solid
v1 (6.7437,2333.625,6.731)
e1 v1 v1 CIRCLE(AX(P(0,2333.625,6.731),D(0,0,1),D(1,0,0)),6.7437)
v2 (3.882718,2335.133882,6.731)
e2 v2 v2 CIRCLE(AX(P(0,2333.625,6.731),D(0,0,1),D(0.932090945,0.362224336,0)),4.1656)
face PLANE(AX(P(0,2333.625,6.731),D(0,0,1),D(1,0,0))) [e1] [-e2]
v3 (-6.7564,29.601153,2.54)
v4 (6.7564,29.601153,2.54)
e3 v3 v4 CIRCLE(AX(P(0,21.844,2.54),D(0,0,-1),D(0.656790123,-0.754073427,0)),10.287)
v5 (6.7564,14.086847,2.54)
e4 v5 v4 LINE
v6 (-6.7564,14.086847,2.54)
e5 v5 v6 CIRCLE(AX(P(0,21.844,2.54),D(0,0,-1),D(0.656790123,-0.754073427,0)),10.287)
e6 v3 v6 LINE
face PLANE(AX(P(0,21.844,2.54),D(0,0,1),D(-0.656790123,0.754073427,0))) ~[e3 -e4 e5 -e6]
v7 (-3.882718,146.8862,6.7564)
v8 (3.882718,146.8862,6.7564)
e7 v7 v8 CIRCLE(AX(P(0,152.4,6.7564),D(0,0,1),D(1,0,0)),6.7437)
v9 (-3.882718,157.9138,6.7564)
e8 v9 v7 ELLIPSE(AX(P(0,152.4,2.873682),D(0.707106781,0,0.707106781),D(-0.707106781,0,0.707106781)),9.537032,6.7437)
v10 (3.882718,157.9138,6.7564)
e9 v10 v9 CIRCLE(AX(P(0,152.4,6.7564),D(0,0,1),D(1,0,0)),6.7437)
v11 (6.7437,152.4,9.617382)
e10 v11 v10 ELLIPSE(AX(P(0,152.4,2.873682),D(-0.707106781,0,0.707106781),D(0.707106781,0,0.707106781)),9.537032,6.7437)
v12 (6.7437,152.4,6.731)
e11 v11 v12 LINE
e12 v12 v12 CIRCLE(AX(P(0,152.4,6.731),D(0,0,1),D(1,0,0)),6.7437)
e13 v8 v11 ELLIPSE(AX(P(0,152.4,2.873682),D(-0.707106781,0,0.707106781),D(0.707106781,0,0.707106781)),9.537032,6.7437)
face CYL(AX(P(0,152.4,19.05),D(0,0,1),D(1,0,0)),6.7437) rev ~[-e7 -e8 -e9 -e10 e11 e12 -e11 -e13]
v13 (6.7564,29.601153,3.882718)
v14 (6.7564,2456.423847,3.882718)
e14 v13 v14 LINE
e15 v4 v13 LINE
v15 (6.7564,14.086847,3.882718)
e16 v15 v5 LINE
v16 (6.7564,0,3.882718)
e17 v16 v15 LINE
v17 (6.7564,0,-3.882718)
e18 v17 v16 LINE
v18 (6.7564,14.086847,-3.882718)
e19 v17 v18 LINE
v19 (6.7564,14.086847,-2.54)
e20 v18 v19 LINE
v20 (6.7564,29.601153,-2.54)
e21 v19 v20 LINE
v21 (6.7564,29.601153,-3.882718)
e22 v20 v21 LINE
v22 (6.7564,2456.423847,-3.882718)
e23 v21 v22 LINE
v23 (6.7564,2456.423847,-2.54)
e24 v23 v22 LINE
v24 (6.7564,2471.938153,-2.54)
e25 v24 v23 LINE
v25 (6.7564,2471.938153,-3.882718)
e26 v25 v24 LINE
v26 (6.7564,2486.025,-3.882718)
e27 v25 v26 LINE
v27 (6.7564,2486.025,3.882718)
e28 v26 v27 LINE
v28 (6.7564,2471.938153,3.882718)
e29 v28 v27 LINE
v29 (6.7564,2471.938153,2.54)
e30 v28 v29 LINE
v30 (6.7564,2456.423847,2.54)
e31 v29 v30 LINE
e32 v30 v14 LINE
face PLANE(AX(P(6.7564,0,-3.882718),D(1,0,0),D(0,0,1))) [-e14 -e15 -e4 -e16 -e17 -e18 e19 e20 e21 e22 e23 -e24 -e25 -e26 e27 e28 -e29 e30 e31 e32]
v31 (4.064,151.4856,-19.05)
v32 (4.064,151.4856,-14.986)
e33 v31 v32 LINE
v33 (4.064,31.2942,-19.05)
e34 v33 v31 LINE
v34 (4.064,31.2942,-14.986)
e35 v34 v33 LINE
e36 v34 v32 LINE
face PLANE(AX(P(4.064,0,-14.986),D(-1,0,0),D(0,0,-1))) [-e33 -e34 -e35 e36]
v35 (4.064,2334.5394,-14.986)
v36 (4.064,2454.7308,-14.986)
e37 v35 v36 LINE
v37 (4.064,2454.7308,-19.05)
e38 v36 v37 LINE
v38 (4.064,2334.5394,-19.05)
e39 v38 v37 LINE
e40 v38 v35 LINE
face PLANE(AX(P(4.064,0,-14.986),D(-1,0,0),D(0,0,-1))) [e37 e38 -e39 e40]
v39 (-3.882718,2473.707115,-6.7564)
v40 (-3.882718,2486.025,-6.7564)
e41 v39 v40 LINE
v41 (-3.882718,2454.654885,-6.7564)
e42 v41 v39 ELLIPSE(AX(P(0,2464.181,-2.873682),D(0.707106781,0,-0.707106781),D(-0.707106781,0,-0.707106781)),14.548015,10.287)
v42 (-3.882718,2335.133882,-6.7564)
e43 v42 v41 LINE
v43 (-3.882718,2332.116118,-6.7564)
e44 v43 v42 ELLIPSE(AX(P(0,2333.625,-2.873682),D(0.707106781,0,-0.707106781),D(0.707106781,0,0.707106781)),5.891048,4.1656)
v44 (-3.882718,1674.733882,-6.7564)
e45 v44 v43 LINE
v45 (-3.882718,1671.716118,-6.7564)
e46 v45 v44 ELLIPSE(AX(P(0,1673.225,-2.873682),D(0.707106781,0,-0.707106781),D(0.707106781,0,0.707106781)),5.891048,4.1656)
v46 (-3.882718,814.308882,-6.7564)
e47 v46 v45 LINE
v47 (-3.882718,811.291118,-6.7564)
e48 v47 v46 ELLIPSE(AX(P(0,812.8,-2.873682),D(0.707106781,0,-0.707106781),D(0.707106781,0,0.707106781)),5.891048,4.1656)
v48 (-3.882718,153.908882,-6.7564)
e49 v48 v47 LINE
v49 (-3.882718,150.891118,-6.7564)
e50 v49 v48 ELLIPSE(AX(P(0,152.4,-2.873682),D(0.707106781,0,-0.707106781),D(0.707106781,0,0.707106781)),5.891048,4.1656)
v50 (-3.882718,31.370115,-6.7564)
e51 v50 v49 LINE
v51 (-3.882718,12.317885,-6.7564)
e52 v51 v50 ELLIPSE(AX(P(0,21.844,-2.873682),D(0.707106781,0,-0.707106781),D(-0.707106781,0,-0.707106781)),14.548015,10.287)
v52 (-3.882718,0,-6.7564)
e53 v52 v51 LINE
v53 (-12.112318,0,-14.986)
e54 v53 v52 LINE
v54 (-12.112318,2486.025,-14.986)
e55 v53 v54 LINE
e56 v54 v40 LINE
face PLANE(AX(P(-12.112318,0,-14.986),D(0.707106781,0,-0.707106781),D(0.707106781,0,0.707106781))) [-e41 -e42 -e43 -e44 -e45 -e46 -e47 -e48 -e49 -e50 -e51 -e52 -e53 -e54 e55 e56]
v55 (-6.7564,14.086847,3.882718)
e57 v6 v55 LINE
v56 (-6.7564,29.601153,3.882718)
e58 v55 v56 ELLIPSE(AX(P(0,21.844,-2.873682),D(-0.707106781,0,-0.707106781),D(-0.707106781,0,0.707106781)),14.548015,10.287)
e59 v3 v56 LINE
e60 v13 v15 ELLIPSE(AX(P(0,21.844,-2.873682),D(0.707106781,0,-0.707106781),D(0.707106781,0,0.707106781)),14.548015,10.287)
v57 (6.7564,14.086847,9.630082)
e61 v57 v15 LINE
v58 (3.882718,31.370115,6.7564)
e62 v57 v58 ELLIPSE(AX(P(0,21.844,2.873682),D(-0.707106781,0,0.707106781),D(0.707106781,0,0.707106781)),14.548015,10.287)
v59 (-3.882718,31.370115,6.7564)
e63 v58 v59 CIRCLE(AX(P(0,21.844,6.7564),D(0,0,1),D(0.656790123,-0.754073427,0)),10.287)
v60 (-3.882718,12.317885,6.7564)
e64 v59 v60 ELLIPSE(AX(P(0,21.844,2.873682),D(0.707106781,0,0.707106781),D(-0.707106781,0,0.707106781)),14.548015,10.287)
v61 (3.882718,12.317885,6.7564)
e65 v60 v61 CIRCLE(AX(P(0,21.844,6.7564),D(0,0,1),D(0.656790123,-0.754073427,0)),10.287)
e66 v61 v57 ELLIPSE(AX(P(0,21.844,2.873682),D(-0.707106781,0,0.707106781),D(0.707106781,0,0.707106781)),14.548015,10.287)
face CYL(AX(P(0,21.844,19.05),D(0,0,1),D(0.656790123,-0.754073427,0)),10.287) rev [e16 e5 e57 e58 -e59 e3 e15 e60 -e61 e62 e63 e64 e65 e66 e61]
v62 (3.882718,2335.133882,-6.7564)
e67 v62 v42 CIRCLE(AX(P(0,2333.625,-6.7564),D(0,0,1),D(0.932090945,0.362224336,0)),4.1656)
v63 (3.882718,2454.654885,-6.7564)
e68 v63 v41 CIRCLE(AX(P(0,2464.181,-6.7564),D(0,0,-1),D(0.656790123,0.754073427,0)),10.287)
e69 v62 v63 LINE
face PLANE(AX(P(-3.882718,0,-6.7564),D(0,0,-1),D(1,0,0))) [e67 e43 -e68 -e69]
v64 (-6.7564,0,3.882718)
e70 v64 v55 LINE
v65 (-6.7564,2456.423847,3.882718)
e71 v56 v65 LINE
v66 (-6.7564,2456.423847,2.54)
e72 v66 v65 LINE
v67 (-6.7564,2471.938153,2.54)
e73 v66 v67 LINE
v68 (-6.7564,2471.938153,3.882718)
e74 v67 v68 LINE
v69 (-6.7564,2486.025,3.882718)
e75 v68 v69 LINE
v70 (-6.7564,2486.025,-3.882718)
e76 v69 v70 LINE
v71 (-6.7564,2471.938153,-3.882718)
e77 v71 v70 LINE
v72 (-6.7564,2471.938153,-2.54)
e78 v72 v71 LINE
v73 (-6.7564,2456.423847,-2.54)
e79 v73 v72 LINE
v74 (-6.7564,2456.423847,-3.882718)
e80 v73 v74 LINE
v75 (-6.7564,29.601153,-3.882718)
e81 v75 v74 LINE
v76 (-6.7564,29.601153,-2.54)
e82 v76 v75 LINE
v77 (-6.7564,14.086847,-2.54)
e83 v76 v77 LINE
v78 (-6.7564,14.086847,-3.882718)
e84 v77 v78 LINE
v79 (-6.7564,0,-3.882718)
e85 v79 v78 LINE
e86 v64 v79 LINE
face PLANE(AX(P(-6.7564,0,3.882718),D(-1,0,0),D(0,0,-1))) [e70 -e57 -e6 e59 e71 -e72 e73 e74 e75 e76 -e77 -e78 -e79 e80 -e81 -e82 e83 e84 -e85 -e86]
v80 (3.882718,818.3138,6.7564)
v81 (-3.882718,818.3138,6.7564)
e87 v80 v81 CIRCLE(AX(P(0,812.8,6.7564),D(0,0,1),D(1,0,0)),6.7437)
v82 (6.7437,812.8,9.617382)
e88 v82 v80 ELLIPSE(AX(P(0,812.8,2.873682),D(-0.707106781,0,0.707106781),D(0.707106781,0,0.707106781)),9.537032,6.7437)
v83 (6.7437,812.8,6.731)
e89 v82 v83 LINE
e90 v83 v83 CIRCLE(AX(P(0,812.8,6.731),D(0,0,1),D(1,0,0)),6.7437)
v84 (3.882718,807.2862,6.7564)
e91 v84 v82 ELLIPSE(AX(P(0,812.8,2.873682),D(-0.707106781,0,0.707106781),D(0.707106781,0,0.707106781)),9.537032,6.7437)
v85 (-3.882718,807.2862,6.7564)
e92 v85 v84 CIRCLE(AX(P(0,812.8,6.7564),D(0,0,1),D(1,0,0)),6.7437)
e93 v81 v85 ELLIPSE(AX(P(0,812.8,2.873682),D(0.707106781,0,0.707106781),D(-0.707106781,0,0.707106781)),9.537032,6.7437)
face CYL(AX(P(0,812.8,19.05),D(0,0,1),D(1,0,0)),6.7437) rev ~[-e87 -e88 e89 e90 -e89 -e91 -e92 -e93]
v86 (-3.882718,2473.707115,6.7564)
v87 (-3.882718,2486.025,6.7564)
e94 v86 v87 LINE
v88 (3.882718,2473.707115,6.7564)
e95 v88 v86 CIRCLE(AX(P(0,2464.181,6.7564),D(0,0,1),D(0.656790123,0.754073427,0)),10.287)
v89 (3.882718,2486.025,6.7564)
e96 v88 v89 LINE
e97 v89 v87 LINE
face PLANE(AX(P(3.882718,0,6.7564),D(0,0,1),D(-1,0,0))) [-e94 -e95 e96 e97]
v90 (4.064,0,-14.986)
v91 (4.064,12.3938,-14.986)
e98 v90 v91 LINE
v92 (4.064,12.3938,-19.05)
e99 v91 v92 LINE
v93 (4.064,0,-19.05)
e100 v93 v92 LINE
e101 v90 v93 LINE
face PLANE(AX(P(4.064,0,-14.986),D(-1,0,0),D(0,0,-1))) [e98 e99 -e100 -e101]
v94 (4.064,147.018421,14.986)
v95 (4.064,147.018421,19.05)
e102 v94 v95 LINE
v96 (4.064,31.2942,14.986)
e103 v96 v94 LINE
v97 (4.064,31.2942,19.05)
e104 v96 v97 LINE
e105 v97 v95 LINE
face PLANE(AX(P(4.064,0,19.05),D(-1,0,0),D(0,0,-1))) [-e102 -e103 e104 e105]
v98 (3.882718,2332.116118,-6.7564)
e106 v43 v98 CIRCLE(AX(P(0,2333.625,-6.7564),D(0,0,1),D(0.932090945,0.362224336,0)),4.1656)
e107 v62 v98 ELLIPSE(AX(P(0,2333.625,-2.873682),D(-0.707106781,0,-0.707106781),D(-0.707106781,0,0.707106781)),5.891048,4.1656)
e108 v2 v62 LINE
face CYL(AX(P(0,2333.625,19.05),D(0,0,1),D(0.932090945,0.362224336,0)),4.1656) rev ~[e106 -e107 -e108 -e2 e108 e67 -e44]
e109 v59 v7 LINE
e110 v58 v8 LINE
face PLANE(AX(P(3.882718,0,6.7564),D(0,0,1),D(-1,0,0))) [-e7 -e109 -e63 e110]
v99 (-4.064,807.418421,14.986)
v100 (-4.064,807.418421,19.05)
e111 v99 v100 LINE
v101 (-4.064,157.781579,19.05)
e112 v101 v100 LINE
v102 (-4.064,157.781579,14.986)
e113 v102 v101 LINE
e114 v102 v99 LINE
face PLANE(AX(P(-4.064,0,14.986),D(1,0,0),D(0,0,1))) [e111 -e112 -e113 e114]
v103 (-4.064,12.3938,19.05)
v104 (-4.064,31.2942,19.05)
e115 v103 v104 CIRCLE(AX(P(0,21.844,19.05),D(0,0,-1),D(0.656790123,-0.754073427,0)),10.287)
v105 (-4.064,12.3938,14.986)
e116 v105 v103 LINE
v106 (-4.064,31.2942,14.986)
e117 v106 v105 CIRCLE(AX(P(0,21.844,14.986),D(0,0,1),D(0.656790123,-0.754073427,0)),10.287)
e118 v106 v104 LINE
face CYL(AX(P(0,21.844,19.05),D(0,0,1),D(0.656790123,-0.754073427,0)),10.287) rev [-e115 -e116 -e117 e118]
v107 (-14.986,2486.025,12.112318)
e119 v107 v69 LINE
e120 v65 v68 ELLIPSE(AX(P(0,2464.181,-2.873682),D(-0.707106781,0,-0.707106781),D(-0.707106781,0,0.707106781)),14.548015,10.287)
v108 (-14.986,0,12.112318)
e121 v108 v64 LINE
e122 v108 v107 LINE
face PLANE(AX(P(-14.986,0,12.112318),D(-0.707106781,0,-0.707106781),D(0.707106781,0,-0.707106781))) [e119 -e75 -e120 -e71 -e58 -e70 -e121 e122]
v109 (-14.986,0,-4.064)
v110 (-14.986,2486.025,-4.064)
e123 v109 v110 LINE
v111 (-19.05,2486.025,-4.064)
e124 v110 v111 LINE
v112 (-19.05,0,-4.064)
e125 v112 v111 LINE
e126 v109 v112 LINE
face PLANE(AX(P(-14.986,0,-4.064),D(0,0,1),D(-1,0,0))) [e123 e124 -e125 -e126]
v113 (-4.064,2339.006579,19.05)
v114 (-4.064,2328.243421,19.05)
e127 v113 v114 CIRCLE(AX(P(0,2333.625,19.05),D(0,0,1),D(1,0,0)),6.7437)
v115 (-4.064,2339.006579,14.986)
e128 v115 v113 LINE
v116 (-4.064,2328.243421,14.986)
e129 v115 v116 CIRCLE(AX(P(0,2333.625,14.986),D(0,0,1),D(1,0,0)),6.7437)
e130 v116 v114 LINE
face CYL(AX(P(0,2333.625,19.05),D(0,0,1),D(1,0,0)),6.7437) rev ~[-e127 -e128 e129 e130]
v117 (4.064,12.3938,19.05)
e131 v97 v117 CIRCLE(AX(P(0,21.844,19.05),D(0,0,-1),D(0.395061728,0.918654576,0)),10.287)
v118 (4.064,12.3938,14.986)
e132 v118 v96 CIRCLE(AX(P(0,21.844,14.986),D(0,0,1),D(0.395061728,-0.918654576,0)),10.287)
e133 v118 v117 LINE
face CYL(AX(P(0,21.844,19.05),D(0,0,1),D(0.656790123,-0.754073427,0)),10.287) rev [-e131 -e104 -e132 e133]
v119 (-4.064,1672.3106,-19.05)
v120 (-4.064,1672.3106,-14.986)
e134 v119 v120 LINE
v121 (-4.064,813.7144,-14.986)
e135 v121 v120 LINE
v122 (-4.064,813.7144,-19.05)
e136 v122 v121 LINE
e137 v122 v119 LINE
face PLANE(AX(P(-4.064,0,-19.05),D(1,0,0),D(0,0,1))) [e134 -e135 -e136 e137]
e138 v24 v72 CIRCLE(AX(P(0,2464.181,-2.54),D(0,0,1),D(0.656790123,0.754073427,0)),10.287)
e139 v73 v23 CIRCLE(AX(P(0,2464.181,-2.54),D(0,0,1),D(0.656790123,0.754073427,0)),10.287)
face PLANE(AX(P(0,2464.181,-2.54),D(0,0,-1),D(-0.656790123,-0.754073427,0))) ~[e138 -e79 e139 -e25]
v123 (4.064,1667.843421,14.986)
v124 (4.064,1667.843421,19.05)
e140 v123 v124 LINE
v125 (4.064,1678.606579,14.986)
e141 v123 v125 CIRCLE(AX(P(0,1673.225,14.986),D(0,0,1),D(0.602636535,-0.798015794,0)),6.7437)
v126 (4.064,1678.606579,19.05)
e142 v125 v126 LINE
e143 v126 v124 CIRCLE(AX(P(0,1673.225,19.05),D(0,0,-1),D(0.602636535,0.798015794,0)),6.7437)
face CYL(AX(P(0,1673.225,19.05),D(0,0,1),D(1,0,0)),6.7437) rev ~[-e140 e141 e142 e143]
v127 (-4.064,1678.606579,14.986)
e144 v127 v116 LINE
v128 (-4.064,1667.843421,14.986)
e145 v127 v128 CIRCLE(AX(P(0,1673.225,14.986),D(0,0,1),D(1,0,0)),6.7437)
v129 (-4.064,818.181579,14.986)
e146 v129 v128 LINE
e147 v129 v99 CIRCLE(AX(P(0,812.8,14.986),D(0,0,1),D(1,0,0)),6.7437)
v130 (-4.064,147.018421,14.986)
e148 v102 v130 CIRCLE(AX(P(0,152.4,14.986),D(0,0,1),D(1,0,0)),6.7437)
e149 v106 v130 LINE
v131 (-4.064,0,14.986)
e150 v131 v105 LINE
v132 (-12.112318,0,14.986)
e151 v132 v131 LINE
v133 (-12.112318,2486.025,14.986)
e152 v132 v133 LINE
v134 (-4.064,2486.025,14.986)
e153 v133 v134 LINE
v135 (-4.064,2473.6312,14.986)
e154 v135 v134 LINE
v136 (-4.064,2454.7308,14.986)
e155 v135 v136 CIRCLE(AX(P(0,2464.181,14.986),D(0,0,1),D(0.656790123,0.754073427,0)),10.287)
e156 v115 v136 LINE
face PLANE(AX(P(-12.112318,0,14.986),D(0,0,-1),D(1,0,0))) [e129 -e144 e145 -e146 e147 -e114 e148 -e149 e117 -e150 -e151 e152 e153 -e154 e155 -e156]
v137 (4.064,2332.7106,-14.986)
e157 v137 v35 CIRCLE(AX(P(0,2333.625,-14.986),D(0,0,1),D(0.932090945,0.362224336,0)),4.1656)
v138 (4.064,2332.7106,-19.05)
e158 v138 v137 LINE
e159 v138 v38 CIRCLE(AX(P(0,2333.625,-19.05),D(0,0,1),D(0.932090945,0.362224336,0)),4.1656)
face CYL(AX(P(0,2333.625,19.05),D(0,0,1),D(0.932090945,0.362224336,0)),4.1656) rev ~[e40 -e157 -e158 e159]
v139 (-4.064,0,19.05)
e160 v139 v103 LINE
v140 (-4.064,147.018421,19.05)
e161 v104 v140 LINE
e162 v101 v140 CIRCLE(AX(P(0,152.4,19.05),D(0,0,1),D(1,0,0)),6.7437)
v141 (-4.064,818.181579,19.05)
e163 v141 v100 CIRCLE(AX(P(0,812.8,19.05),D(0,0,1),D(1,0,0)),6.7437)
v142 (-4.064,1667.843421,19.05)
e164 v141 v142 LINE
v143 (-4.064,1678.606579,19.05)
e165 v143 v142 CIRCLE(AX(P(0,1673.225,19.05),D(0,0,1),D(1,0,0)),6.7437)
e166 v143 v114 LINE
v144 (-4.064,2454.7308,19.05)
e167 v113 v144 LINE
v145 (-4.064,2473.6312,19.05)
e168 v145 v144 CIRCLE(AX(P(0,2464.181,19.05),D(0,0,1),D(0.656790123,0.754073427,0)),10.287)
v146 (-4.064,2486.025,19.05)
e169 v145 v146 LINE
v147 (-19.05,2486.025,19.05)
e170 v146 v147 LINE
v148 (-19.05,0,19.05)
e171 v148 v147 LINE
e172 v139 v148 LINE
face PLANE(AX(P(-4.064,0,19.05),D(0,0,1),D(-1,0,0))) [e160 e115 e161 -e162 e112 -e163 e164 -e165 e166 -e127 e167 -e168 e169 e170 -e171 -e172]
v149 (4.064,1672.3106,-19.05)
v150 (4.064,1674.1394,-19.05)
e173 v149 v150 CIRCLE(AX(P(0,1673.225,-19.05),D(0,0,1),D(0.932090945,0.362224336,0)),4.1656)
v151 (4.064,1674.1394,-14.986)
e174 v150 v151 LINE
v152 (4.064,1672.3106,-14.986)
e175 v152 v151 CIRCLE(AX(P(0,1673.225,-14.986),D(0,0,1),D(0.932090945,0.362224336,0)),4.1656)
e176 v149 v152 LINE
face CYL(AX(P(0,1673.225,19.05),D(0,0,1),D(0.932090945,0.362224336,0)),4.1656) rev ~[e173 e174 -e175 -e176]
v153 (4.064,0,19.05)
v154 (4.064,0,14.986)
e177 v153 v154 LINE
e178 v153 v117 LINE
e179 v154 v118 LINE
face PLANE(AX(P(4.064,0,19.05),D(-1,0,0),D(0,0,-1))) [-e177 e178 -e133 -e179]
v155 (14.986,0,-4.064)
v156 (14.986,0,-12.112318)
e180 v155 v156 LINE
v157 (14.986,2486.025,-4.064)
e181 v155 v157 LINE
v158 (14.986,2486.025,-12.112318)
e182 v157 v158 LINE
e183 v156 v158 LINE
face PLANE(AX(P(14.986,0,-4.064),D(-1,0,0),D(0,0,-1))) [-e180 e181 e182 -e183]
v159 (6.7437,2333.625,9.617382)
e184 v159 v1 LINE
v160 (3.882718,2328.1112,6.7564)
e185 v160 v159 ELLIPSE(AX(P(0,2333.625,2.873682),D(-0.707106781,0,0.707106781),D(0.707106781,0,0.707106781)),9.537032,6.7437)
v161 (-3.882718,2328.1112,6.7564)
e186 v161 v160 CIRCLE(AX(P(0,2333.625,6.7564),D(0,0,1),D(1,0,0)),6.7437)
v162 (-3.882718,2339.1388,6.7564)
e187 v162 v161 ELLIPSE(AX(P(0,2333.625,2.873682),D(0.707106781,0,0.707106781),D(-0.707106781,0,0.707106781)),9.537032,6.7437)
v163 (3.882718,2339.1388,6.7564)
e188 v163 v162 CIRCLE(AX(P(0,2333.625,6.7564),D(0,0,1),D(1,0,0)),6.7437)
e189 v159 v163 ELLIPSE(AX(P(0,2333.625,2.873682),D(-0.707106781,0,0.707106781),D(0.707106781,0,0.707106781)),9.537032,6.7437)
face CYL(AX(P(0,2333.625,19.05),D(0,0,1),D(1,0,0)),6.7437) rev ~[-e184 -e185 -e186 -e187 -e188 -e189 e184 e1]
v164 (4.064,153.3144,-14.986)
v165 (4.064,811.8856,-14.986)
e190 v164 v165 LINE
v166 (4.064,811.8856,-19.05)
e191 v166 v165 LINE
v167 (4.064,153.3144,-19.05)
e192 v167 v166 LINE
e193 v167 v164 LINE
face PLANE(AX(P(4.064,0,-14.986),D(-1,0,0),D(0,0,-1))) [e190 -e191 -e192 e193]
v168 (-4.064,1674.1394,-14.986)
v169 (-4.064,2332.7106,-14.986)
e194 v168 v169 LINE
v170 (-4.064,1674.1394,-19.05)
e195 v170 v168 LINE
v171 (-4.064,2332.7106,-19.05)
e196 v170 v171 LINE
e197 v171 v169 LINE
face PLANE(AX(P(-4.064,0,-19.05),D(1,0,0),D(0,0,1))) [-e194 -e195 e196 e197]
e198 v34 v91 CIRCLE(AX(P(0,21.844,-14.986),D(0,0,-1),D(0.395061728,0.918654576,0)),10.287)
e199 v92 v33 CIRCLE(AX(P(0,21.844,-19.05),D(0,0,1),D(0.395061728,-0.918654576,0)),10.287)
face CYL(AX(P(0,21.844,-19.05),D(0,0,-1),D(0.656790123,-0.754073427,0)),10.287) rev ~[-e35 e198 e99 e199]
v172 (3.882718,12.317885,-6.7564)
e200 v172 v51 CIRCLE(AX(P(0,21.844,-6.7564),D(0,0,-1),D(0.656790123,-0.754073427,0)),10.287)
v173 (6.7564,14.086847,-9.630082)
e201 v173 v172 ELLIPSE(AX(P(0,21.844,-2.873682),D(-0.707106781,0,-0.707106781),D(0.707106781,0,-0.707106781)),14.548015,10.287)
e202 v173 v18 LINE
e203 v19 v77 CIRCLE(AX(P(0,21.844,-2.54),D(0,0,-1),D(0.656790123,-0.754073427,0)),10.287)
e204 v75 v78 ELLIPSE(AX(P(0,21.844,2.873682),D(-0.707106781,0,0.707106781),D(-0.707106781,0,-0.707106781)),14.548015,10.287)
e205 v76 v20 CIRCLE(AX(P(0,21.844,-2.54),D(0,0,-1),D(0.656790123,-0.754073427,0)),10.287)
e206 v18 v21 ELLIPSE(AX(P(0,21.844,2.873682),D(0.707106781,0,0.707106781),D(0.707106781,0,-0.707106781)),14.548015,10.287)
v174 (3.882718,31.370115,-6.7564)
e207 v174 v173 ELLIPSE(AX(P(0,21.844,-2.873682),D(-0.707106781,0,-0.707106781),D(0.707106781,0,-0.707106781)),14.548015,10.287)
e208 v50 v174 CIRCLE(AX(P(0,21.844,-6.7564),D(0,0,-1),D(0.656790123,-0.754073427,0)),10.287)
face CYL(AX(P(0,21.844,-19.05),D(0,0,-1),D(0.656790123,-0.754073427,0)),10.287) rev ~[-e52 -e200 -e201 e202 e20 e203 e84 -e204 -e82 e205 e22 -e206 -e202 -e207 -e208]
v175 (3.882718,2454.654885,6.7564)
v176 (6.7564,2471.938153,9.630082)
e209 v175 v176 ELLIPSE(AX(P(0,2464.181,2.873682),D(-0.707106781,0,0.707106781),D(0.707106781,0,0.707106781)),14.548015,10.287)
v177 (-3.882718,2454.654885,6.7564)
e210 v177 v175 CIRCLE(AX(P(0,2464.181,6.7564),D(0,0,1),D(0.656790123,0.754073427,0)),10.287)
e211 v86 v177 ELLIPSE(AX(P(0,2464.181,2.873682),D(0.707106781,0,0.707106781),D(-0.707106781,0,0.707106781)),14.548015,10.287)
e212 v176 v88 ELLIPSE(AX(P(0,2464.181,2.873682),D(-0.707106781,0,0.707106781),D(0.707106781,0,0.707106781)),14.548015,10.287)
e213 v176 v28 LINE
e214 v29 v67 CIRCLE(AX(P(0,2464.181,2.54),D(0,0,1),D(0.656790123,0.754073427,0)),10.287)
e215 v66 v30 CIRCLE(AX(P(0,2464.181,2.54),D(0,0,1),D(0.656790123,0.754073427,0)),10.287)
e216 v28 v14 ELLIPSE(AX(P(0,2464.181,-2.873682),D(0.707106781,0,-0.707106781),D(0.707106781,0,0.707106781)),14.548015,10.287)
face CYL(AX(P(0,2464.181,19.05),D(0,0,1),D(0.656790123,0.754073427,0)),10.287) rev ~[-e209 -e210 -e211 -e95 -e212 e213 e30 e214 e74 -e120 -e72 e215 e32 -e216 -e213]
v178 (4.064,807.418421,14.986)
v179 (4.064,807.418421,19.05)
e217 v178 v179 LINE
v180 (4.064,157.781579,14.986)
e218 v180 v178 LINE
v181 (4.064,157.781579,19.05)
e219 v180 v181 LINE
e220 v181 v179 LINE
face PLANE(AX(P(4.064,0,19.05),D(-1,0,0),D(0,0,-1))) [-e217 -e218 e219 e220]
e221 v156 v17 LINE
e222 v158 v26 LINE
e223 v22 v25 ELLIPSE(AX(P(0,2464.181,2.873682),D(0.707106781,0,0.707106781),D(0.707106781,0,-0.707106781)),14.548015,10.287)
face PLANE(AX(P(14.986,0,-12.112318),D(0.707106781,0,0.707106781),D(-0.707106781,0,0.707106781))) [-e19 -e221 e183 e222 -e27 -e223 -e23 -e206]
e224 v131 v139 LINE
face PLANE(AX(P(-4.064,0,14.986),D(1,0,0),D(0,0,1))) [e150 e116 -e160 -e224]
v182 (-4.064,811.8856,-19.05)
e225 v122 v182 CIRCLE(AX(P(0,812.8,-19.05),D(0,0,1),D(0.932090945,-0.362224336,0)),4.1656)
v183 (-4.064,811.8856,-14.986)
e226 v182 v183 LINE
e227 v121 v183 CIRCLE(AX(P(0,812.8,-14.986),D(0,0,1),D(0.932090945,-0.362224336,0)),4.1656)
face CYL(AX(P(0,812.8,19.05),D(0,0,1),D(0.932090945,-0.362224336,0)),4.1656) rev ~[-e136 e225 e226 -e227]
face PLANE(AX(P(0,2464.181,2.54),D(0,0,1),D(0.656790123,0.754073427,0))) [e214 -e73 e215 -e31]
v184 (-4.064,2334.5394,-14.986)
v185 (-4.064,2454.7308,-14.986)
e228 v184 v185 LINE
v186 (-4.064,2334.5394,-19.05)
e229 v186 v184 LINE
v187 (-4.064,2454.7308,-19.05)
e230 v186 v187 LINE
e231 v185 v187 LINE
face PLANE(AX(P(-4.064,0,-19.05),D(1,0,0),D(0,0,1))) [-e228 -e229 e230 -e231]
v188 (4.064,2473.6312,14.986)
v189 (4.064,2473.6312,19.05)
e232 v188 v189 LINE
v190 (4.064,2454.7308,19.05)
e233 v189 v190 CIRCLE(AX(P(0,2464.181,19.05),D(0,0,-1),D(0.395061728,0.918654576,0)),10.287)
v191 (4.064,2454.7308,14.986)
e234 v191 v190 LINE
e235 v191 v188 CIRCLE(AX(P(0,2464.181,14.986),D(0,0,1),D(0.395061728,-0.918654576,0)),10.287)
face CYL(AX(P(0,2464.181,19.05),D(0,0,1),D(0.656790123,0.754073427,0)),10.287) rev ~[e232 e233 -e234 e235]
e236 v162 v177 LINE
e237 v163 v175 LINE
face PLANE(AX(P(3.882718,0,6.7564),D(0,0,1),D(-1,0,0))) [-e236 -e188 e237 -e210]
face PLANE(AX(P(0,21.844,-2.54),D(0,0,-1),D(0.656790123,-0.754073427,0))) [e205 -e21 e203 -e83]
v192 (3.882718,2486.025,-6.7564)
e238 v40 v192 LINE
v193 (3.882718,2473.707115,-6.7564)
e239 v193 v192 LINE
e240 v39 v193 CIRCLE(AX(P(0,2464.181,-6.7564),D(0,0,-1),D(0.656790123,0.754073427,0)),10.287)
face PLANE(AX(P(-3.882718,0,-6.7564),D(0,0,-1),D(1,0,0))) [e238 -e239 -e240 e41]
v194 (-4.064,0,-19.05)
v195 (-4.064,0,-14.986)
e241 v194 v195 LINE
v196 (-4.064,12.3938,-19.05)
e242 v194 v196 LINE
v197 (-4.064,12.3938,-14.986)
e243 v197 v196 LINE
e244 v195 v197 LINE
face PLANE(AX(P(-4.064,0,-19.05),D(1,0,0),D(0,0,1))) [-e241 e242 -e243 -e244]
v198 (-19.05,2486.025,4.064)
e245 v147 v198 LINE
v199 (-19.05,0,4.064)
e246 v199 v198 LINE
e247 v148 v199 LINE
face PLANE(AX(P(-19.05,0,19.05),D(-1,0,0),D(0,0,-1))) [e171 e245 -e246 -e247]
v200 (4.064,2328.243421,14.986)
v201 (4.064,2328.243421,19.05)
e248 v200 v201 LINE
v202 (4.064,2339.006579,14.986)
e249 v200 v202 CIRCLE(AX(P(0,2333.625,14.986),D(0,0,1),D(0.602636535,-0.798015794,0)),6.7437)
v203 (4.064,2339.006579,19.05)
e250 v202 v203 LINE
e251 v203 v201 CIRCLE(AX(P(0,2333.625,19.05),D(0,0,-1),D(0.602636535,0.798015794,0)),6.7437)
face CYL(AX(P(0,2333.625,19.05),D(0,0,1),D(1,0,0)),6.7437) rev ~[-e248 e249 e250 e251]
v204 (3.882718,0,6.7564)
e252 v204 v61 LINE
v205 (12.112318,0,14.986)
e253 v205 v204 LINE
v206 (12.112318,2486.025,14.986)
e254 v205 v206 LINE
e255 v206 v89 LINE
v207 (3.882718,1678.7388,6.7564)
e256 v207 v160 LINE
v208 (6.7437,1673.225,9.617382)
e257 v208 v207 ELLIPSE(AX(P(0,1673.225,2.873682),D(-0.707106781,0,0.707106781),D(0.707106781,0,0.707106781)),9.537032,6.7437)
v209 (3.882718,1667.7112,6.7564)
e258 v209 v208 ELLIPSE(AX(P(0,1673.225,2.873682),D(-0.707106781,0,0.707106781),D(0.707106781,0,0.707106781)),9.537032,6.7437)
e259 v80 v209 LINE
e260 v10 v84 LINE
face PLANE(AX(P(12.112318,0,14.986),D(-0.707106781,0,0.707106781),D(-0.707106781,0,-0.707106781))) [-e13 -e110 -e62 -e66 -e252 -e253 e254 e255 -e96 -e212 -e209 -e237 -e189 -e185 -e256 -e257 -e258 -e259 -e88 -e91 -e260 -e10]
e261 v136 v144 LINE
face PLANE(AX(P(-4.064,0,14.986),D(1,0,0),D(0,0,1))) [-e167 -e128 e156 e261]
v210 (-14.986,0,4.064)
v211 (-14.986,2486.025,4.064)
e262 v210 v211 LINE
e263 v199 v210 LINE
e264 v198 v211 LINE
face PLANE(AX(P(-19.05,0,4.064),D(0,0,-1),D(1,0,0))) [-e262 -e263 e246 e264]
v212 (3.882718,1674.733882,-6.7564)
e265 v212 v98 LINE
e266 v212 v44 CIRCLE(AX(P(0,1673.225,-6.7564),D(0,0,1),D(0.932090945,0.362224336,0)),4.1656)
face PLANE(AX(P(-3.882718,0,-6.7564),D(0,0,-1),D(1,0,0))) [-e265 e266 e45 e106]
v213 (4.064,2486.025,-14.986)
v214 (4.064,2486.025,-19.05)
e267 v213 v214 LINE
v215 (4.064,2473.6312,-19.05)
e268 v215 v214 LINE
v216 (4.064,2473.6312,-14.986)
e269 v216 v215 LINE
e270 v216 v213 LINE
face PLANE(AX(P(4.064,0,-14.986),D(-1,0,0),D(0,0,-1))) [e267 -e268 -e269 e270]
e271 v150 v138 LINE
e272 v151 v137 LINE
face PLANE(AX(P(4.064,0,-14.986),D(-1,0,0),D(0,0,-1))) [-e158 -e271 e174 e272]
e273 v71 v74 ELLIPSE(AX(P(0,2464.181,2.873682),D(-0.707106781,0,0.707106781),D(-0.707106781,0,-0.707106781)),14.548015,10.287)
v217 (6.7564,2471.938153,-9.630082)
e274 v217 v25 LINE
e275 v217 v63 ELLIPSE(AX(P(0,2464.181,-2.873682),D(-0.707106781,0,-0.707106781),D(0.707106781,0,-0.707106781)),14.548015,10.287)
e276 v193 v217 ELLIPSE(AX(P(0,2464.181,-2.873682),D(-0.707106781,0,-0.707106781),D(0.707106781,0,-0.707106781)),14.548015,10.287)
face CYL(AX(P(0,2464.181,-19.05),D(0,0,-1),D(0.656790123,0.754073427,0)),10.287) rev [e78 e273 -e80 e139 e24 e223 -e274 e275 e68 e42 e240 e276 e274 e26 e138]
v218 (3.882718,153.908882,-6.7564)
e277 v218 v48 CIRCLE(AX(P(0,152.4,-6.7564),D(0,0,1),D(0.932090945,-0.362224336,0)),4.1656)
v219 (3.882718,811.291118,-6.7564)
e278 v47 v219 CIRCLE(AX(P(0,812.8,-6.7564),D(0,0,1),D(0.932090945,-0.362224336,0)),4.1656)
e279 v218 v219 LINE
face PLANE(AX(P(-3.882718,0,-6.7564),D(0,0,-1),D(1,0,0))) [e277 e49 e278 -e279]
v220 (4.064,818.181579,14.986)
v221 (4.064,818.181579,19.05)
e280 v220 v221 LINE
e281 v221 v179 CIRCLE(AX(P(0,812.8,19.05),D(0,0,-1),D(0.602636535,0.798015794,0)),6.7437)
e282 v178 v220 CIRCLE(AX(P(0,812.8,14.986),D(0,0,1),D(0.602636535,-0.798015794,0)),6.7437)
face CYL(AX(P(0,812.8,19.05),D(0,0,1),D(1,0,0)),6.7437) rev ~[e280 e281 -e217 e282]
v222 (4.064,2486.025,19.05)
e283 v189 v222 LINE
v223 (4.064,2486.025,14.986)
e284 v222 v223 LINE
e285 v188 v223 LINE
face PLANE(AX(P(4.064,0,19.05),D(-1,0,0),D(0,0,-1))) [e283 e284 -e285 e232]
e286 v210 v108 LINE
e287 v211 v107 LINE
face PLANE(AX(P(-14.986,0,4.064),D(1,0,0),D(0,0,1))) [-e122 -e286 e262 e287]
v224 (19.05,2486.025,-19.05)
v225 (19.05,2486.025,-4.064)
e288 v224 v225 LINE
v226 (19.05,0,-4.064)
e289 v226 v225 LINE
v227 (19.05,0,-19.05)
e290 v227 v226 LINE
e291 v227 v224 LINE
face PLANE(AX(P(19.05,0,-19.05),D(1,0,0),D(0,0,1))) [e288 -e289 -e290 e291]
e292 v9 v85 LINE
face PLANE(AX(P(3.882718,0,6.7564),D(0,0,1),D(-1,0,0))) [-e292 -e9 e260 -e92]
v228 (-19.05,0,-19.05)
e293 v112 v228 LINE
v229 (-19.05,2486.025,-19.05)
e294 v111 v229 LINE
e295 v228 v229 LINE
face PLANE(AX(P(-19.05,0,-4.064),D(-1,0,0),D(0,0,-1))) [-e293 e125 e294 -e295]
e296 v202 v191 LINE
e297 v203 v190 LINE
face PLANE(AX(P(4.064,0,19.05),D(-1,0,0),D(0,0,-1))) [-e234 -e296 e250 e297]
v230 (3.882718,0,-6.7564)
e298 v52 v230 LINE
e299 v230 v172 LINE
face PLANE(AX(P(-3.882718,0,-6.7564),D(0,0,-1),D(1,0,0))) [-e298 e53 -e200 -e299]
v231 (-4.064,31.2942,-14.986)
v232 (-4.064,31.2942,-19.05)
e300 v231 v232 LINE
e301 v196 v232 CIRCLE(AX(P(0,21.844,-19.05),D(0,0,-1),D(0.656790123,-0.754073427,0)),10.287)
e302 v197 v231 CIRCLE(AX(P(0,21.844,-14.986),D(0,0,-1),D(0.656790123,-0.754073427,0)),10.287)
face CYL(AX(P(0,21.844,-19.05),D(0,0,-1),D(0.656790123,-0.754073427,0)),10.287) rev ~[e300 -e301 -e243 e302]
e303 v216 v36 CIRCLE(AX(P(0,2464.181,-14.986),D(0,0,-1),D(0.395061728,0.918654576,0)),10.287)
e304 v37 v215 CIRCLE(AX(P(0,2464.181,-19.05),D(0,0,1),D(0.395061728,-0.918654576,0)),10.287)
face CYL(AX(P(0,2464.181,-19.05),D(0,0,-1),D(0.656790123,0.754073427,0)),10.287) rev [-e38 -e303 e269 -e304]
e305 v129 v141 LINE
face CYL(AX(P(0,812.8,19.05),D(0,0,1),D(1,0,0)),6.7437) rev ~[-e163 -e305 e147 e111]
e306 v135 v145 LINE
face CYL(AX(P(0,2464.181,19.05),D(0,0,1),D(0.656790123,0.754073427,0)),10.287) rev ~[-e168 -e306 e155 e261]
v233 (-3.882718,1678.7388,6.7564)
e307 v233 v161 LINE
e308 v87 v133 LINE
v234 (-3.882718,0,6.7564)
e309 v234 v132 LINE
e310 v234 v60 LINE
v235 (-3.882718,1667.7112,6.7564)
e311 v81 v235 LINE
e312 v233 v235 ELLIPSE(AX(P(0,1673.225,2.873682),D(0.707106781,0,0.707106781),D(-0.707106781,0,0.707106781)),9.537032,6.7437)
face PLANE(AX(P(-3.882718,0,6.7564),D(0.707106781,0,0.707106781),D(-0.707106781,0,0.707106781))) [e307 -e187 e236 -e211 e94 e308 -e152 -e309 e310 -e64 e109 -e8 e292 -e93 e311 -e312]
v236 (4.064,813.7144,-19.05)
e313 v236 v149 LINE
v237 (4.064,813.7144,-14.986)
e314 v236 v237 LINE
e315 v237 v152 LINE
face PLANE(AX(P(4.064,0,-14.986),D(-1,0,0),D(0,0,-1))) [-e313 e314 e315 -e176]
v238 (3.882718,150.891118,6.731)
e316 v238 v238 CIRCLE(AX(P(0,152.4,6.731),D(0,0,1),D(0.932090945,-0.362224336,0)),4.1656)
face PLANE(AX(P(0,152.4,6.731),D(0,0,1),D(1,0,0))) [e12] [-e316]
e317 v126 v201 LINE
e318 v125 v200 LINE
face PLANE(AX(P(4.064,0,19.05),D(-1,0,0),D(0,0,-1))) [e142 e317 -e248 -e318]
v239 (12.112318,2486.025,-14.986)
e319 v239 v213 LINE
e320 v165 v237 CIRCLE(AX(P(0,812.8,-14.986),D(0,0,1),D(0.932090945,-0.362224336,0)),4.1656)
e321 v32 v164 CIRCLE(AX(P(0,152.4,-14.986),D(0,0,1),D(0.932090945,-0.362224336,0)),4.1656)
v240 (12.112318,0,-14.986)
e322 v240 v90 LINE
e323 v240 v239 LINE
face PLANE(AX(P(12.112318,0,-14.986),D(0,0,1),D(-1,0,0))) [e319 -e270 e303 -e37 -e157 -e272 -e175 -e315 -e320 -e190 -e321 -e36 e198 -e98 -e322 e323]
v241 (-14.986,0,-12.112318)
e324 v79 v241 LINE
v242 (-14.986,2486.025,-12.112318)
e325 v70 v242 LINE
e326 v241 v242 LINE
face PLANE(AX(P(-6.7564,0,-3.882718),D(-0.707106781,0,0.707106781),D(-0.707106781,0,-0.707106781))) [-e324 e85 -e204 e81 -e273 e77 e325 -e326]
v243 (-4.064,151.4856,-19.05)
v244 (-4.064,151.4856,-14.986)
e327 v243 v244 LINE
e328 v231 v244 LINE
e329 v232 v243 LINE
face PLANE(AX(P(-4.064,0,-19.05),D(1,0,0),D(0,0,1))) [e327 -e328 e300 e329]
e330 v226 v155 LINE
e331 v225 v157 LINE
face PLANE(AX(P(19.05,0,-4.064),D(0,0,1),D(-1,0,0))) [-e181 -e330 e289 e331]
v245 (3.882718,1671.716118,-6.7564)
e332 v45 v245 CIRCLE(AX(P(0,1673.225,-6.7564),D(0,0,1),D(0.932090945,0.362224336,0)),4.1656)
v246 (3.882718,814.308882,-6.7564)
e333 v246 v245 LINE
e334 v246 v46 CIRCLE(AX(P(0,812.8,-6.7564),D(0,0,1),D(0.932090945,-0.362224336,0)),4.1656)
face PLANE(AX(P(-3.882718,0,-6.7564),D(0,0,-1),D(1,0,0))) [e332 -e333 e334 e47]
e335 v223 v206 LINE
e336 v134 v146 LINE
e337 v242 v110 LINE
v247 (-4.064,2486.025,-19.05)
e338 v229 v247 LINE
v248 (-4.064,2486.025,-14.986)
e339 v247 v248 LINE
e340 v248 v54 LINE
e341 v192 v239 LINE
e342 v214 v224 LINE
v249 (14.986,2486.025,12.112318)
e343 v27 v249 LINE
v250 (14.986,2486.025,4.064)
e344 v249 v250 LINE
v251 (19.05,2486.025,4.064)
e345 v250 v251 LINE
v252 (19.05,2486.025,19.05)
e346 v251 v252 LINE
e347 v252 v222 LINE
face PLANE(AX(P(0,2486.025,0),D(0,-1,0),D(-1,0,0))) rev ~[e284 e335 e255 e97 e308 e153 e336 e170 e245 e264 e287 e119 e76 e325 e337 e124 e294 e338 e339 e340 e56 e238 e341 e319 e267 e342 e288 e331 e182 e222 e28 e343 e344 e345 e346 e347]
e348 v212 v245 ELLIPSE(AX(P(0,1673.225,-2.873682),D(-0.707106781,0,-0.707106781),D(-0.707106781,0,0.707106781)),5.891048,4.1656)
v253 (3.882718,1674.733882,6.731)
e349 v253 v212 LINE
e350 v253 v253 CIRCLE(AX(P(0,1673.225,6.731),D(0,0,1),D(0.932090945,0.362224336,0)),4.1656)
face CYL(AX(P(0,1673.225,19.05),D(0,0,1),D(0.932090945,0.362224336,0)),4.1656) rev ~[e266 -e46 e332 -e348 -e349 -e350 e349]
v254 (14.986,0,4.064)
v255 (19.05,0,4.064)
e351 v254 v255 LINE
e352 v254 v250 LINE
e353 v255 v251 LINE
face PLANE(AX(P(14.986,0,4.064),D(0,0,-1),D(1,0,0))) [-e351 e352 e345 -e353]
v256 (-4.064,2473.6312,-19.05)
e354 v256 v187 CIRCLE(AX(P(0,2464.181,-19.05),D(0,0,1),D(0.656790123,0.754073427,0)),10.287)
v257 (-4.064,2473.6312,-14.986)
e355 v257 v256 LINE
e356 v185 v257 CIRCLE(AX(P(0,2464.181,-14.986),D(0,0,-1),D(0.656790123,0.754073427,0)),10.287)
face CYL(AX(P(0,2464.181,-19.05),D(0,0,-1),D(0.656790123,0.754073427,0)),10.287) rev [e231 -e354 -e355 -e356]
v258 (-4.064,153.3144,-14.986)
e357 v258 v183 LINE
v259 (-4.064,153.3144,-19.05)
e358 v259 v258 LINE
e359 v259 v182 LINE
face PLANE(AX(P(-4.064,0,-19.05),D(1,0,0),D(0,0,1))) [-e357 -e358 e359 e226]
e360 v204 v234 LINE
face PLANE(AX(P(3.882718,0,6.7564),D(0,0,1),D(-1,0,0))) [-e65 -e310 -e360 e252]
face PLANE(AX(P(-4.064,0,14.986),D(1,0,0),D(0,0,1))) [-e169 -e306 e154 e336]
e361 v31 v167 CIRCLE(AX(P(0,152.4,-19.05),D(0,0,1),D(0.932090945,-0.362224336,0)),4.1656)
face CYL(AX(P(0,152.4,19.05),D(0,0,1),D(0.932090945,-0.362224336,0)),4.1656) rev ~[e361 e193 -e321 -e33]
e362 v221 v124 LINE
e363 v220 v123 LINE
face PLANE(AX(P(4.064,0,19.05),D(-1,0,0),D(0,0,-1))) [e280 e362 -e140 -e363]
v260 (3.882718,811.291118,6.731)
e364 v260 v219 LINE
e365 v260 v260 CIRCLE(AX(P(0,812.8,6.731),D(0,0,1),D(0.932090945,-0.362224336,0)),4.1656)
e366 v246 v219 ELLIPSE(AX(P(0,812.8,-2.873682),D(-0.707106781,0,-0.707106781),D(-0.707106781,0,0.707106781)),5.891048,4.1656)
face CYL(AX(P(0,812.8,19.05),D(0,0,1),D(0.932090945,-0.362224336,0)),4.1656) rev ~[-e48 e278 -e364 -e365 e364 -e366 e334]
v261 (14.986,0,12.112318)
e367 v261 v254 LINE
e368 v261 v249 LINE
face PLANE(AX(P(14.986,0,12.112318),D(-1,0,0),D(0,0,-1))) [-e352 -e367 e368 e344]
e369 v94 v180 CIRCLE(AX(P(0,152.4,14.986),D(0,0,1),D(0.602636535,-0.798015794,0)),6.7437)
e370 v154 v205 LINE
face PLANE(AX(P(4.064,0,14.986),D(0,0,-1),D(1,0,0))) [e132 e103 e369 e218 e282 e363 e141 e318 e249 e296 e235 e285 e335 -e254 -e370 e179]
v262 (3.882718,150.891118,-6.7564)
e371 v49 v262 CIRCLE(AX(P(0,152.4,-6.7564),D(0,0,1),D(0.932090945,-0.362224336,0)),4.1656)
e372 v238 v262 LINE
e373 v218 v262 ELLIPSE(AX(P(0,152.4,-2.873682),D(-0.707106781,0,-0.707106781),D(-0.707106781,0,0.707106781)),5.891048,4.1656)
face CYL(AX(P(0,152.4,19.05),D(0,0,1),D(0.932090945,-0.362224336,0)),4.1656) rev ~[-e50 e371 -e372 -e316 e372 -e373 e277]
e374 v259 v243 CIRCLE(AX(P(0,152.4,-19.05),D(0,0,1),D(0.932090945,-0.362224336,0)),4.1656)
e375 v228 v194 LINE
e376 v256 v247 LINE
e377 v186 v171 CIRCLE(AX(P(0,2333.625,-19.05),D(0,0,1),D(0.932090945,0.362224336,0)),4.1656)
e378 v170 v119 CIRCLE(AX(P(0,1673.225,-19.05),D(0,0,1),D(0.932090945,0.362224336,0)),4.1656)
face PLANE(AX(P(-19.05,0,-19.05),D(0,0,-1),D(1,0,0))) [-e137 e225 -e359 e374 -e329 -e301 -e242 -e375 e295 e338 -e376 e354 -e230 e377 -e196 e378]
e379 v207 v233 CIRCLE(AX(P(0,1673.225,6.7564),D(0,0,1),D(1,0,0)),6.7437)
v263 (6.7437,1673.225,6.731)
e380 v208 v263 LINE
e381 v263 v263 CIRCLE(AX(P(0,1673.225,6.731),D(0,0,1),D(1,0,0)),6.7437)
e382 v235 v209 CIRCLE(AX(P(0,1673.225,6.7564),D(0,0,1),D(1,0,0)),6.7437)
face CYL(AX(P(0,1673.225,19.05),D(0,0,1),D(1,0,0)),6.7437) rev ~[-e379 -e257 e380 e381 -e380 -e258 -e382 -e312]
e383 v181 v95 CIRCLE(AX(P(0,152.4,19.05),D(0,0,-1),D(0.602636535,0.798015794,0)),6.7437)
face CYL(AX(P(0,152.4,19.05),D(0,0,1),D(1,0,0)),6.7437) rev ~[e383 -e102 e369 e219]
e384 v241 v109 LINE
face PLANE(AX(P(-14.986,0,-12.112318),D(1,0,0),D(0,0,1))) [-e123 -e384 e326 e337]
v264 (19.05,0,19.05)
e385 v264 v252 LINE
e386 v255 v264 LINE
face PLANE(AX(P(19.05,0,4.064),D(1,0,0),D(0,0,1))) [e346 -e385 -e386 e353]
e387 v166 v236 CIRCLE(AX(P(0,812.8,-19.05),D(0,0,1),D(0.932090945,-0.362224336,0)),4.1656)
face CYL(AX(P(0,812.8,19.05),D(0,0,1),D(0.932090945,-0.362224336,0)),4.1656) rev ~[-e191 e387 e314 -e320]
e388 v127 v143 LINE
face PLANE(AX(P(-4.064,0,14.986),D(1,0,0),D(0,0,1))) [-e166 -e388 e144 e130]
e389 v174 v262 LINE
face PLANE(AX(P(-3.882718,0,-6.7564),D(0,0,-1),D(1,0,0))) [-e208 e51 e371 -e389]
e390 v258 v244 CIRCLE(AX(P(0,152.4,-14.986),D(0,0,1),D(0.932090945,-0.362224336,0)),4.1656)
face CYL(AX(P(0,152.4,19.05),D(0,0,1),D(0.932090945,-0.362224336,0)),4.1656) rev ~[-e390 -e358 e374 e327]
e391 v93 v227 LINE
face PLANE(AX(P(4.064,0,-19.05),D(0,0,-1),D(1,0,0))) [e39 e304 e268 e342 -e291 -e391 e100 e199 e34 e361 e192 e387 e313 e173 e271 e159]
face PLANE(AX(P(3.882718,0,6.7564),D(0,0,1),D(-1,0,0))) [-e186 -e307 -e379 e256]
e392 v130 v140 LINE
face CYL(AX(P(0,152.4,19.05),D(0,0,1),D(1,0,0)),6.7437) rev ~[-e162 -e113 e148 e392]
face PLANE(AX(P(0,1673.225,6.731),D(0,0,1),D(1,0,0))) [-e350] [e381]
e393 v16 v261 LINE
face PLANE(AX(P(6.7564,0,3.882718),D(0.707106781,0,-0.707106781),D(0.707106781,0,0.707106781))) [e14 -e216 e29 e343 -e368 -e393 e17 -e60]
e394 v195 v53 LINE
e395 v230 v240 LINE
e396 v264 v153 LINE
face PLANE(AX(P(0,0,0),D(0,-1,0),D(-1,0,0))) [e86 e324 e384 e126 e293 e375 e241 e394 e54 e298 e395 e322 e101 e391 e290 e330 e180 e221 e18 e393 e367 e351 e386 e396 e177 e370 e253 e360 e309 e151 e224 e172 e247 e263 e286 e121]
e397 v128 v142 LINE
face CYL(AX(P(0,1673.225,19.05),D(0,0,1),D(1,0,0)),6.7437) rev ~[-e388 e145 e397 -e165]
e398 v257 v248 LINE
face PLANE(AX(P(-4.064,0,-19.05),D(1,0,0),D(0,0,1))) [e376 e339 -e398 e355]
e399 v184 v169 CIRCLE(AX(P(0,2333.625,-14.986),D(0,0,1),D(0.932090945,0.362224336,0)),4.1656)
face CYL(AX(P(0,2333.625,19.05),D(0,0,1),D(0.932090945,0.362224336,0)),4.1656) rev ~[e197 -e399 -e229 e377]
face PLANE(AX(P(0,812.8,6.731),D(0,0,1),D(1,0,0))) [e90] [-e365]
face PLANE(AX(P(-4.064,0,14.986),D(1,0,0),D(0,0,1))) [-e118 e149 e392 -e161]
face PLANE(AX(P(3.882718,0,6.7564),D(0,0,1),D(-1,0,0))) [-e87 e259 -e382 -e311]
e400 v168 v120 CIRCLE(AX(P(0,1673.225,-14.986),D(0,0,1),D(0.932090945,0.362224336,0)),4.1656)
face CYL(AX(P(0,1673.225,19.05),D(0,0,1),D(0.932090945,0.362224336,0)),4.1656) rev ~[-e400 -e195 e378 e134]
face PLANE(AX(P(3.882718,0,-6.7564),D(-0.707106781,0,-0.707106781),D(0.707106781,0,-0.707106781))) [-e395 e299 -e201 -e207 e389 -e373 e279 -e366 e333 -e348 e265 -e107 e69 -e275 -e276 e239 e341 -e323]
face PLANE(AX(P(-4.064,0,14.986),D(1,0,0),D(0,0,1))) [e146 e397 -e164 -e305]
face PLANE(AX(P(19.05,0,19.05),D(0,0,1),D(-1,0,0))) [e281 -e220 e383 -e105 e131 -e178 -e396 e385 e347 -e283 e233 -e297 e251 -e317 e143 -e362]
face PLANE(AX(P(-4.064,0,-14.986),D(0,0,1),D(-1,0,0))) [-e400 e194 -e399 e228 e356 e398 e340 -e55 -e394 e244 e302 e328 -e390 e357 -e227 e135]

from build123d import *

# Parameters (mm, degrees)
BOSS_EXTRUDE1_DEPTH     = 2486.025
SKETCH3_R               = 10.287
CUT_EXTRUDE1_DEPTH      = 16.51
MIRROR2_COPY_1_SKETCH_R = 10.287
MIRROR2_COPY_1_DEPTH    = 16.51
SKETCH4_R               = 4.1656
CUT_EXTRUDE2_DEPTH      = 2487.389915746
SKETCH5_R               = 6.7437
CUT_EXTRUDE3_DEPTH      = 12.319


with BuildPart() as part:
    # Sketch2 → Boss-Extrude1 (new body)
    with BuildSketch(Plane(origin=(0.594697292, 0, 0.594697292), x_dir=(1, 0, 0), z_dir=(0, 1, 0))):
        Polygon((-19.644697292, 19.644697292), (-4.658697292, 19.644697292), (-4.658697292, 15.580697292), (-12.707015333, 15.580697292), (-4.477415333, 7.351097292), (3.288020749, 7.351097292), (11.517620749, 15.580697292), (3.469302708, 15.580697292), (3.469302708, 19.644697292), (18.455302708, 19.644697292), (18.455302708, 4.658697292), (14.391302708, 4.658697292), (14.391302708, 12.707015333), (6.161702708, 4.477415333), (6.161702708, -3.288020749), (14.391302708, -11.517620749), (14.391302708, -3.469302708), (18.455302708, -3.469302708), (18.455302708, -18.455302708), (3.469302708, -18.455302708), (3.469302708, -14.391302708), (11.517620749, -14.391302708), (3.288020749, -6.161702708), (-4.477415333, -6.161702708), (-12.707015333, -14.391302708), (-4.658697292, -14.391302708), (-4.658697292, -18.455302708), (-19.644697292, -18.455302708), (-19.644697292, -3.469302708), (-15.580697292, -3.469302708), (-15.580697292, -11.517620749), (-7.351097292, -3.288020749), (-7.351097292, 4.477415333), (-15.580697292, 12.707015333), (-15.580697292, 4.658697292), (-19.644697292, 4.658697292), align=None)
    extrude(amount=BOSS_EXTRUDE1_DEPTH)

    # Sketch3 → Cut-Extrude1 (cut)
    with BuildSketch(Plane.XY.offset(19.05)):
        with Locations(Location((0, 2464.181, 0), (0, 0, 48.944473627))):
            Circle(SKETCH3_R)
    cut_extrude1 = extrude(amount=-CUT_EXTRUDE1_DEPTH, mode=Mode.SUBTRACT)

    # Mirror1: Cut-Extrude1 across plane
    add(cut_extrude1.mirror(Plane.XY), mode=Mode.SUBTRACT)

    # Mirror2: Cut-Extrude1 across plane
    add(cut_extrude1.mirror(Plane.ZX.offset(1243.0125)), mode=Mode.SUBTRACT)

    # Mirror2 copy 1 sketch → Mirror2 copy 1 (cut)
    with BuildSketch(Plane(origin=(0, 2486.025, -19.05), x_dir=(1, 0, 0), z_dir=(0, 0, -1))):
        with Locations(Location((0, 2464.181, 0), (0, 0, 48.944473627))):
            Circle(MIRROR2_COPY_1_SKETCH_R)
    extrude(amount=-MIRROR2_COPY_1_DEPTH, mode=Mode.SUBTRACT)

    # Sketch4 → Cut-Extrude2 (cut, through all)
    with BuildSketch(Plane.XY.offset(19.05)):
        with Locations(Location((0, 2333.625, 0), (0, 0, 21.236863128))):
            Circle(SKETCH4_R)
        with Locations(Location((0, 1673.225, 0), (0, 0, 21.236863128))):
            Circle(SKETCH4_R)
        with Locations(Location((0, 812.8, 0), (0, 0, 338.763136872))):
            Circle(SKETCH4_R)
        with Locations(Location((0, 152.4, 0), (0, 0, 338.763136872))):
            Circle(SKETCH4_R)
    extrude(amount=-CUT_EXTRUDE2_DEPTH, mode=Mode.SUBTRACT)

    # Sketch5 → Cut-Extrude3 (cut)
    with BuildSketch(Plane.XY.offset(19.05)):
        with Locations((0, 2333.625)):
            Circle(SKETCH5_R)
        with Locations((0, 1673.225)):
            Circle(SKETCH5_R)
        with Locations((0, 812.8)):
            Circle(SKETCH5_R)
        with Locations((0, 152.4)):
            Circle(SKETCH5_R)
    extrude(amount=-CUT_EXTRUDE3_DEPTH, mode=Mode.SUBTRACT)


solid = part.part
